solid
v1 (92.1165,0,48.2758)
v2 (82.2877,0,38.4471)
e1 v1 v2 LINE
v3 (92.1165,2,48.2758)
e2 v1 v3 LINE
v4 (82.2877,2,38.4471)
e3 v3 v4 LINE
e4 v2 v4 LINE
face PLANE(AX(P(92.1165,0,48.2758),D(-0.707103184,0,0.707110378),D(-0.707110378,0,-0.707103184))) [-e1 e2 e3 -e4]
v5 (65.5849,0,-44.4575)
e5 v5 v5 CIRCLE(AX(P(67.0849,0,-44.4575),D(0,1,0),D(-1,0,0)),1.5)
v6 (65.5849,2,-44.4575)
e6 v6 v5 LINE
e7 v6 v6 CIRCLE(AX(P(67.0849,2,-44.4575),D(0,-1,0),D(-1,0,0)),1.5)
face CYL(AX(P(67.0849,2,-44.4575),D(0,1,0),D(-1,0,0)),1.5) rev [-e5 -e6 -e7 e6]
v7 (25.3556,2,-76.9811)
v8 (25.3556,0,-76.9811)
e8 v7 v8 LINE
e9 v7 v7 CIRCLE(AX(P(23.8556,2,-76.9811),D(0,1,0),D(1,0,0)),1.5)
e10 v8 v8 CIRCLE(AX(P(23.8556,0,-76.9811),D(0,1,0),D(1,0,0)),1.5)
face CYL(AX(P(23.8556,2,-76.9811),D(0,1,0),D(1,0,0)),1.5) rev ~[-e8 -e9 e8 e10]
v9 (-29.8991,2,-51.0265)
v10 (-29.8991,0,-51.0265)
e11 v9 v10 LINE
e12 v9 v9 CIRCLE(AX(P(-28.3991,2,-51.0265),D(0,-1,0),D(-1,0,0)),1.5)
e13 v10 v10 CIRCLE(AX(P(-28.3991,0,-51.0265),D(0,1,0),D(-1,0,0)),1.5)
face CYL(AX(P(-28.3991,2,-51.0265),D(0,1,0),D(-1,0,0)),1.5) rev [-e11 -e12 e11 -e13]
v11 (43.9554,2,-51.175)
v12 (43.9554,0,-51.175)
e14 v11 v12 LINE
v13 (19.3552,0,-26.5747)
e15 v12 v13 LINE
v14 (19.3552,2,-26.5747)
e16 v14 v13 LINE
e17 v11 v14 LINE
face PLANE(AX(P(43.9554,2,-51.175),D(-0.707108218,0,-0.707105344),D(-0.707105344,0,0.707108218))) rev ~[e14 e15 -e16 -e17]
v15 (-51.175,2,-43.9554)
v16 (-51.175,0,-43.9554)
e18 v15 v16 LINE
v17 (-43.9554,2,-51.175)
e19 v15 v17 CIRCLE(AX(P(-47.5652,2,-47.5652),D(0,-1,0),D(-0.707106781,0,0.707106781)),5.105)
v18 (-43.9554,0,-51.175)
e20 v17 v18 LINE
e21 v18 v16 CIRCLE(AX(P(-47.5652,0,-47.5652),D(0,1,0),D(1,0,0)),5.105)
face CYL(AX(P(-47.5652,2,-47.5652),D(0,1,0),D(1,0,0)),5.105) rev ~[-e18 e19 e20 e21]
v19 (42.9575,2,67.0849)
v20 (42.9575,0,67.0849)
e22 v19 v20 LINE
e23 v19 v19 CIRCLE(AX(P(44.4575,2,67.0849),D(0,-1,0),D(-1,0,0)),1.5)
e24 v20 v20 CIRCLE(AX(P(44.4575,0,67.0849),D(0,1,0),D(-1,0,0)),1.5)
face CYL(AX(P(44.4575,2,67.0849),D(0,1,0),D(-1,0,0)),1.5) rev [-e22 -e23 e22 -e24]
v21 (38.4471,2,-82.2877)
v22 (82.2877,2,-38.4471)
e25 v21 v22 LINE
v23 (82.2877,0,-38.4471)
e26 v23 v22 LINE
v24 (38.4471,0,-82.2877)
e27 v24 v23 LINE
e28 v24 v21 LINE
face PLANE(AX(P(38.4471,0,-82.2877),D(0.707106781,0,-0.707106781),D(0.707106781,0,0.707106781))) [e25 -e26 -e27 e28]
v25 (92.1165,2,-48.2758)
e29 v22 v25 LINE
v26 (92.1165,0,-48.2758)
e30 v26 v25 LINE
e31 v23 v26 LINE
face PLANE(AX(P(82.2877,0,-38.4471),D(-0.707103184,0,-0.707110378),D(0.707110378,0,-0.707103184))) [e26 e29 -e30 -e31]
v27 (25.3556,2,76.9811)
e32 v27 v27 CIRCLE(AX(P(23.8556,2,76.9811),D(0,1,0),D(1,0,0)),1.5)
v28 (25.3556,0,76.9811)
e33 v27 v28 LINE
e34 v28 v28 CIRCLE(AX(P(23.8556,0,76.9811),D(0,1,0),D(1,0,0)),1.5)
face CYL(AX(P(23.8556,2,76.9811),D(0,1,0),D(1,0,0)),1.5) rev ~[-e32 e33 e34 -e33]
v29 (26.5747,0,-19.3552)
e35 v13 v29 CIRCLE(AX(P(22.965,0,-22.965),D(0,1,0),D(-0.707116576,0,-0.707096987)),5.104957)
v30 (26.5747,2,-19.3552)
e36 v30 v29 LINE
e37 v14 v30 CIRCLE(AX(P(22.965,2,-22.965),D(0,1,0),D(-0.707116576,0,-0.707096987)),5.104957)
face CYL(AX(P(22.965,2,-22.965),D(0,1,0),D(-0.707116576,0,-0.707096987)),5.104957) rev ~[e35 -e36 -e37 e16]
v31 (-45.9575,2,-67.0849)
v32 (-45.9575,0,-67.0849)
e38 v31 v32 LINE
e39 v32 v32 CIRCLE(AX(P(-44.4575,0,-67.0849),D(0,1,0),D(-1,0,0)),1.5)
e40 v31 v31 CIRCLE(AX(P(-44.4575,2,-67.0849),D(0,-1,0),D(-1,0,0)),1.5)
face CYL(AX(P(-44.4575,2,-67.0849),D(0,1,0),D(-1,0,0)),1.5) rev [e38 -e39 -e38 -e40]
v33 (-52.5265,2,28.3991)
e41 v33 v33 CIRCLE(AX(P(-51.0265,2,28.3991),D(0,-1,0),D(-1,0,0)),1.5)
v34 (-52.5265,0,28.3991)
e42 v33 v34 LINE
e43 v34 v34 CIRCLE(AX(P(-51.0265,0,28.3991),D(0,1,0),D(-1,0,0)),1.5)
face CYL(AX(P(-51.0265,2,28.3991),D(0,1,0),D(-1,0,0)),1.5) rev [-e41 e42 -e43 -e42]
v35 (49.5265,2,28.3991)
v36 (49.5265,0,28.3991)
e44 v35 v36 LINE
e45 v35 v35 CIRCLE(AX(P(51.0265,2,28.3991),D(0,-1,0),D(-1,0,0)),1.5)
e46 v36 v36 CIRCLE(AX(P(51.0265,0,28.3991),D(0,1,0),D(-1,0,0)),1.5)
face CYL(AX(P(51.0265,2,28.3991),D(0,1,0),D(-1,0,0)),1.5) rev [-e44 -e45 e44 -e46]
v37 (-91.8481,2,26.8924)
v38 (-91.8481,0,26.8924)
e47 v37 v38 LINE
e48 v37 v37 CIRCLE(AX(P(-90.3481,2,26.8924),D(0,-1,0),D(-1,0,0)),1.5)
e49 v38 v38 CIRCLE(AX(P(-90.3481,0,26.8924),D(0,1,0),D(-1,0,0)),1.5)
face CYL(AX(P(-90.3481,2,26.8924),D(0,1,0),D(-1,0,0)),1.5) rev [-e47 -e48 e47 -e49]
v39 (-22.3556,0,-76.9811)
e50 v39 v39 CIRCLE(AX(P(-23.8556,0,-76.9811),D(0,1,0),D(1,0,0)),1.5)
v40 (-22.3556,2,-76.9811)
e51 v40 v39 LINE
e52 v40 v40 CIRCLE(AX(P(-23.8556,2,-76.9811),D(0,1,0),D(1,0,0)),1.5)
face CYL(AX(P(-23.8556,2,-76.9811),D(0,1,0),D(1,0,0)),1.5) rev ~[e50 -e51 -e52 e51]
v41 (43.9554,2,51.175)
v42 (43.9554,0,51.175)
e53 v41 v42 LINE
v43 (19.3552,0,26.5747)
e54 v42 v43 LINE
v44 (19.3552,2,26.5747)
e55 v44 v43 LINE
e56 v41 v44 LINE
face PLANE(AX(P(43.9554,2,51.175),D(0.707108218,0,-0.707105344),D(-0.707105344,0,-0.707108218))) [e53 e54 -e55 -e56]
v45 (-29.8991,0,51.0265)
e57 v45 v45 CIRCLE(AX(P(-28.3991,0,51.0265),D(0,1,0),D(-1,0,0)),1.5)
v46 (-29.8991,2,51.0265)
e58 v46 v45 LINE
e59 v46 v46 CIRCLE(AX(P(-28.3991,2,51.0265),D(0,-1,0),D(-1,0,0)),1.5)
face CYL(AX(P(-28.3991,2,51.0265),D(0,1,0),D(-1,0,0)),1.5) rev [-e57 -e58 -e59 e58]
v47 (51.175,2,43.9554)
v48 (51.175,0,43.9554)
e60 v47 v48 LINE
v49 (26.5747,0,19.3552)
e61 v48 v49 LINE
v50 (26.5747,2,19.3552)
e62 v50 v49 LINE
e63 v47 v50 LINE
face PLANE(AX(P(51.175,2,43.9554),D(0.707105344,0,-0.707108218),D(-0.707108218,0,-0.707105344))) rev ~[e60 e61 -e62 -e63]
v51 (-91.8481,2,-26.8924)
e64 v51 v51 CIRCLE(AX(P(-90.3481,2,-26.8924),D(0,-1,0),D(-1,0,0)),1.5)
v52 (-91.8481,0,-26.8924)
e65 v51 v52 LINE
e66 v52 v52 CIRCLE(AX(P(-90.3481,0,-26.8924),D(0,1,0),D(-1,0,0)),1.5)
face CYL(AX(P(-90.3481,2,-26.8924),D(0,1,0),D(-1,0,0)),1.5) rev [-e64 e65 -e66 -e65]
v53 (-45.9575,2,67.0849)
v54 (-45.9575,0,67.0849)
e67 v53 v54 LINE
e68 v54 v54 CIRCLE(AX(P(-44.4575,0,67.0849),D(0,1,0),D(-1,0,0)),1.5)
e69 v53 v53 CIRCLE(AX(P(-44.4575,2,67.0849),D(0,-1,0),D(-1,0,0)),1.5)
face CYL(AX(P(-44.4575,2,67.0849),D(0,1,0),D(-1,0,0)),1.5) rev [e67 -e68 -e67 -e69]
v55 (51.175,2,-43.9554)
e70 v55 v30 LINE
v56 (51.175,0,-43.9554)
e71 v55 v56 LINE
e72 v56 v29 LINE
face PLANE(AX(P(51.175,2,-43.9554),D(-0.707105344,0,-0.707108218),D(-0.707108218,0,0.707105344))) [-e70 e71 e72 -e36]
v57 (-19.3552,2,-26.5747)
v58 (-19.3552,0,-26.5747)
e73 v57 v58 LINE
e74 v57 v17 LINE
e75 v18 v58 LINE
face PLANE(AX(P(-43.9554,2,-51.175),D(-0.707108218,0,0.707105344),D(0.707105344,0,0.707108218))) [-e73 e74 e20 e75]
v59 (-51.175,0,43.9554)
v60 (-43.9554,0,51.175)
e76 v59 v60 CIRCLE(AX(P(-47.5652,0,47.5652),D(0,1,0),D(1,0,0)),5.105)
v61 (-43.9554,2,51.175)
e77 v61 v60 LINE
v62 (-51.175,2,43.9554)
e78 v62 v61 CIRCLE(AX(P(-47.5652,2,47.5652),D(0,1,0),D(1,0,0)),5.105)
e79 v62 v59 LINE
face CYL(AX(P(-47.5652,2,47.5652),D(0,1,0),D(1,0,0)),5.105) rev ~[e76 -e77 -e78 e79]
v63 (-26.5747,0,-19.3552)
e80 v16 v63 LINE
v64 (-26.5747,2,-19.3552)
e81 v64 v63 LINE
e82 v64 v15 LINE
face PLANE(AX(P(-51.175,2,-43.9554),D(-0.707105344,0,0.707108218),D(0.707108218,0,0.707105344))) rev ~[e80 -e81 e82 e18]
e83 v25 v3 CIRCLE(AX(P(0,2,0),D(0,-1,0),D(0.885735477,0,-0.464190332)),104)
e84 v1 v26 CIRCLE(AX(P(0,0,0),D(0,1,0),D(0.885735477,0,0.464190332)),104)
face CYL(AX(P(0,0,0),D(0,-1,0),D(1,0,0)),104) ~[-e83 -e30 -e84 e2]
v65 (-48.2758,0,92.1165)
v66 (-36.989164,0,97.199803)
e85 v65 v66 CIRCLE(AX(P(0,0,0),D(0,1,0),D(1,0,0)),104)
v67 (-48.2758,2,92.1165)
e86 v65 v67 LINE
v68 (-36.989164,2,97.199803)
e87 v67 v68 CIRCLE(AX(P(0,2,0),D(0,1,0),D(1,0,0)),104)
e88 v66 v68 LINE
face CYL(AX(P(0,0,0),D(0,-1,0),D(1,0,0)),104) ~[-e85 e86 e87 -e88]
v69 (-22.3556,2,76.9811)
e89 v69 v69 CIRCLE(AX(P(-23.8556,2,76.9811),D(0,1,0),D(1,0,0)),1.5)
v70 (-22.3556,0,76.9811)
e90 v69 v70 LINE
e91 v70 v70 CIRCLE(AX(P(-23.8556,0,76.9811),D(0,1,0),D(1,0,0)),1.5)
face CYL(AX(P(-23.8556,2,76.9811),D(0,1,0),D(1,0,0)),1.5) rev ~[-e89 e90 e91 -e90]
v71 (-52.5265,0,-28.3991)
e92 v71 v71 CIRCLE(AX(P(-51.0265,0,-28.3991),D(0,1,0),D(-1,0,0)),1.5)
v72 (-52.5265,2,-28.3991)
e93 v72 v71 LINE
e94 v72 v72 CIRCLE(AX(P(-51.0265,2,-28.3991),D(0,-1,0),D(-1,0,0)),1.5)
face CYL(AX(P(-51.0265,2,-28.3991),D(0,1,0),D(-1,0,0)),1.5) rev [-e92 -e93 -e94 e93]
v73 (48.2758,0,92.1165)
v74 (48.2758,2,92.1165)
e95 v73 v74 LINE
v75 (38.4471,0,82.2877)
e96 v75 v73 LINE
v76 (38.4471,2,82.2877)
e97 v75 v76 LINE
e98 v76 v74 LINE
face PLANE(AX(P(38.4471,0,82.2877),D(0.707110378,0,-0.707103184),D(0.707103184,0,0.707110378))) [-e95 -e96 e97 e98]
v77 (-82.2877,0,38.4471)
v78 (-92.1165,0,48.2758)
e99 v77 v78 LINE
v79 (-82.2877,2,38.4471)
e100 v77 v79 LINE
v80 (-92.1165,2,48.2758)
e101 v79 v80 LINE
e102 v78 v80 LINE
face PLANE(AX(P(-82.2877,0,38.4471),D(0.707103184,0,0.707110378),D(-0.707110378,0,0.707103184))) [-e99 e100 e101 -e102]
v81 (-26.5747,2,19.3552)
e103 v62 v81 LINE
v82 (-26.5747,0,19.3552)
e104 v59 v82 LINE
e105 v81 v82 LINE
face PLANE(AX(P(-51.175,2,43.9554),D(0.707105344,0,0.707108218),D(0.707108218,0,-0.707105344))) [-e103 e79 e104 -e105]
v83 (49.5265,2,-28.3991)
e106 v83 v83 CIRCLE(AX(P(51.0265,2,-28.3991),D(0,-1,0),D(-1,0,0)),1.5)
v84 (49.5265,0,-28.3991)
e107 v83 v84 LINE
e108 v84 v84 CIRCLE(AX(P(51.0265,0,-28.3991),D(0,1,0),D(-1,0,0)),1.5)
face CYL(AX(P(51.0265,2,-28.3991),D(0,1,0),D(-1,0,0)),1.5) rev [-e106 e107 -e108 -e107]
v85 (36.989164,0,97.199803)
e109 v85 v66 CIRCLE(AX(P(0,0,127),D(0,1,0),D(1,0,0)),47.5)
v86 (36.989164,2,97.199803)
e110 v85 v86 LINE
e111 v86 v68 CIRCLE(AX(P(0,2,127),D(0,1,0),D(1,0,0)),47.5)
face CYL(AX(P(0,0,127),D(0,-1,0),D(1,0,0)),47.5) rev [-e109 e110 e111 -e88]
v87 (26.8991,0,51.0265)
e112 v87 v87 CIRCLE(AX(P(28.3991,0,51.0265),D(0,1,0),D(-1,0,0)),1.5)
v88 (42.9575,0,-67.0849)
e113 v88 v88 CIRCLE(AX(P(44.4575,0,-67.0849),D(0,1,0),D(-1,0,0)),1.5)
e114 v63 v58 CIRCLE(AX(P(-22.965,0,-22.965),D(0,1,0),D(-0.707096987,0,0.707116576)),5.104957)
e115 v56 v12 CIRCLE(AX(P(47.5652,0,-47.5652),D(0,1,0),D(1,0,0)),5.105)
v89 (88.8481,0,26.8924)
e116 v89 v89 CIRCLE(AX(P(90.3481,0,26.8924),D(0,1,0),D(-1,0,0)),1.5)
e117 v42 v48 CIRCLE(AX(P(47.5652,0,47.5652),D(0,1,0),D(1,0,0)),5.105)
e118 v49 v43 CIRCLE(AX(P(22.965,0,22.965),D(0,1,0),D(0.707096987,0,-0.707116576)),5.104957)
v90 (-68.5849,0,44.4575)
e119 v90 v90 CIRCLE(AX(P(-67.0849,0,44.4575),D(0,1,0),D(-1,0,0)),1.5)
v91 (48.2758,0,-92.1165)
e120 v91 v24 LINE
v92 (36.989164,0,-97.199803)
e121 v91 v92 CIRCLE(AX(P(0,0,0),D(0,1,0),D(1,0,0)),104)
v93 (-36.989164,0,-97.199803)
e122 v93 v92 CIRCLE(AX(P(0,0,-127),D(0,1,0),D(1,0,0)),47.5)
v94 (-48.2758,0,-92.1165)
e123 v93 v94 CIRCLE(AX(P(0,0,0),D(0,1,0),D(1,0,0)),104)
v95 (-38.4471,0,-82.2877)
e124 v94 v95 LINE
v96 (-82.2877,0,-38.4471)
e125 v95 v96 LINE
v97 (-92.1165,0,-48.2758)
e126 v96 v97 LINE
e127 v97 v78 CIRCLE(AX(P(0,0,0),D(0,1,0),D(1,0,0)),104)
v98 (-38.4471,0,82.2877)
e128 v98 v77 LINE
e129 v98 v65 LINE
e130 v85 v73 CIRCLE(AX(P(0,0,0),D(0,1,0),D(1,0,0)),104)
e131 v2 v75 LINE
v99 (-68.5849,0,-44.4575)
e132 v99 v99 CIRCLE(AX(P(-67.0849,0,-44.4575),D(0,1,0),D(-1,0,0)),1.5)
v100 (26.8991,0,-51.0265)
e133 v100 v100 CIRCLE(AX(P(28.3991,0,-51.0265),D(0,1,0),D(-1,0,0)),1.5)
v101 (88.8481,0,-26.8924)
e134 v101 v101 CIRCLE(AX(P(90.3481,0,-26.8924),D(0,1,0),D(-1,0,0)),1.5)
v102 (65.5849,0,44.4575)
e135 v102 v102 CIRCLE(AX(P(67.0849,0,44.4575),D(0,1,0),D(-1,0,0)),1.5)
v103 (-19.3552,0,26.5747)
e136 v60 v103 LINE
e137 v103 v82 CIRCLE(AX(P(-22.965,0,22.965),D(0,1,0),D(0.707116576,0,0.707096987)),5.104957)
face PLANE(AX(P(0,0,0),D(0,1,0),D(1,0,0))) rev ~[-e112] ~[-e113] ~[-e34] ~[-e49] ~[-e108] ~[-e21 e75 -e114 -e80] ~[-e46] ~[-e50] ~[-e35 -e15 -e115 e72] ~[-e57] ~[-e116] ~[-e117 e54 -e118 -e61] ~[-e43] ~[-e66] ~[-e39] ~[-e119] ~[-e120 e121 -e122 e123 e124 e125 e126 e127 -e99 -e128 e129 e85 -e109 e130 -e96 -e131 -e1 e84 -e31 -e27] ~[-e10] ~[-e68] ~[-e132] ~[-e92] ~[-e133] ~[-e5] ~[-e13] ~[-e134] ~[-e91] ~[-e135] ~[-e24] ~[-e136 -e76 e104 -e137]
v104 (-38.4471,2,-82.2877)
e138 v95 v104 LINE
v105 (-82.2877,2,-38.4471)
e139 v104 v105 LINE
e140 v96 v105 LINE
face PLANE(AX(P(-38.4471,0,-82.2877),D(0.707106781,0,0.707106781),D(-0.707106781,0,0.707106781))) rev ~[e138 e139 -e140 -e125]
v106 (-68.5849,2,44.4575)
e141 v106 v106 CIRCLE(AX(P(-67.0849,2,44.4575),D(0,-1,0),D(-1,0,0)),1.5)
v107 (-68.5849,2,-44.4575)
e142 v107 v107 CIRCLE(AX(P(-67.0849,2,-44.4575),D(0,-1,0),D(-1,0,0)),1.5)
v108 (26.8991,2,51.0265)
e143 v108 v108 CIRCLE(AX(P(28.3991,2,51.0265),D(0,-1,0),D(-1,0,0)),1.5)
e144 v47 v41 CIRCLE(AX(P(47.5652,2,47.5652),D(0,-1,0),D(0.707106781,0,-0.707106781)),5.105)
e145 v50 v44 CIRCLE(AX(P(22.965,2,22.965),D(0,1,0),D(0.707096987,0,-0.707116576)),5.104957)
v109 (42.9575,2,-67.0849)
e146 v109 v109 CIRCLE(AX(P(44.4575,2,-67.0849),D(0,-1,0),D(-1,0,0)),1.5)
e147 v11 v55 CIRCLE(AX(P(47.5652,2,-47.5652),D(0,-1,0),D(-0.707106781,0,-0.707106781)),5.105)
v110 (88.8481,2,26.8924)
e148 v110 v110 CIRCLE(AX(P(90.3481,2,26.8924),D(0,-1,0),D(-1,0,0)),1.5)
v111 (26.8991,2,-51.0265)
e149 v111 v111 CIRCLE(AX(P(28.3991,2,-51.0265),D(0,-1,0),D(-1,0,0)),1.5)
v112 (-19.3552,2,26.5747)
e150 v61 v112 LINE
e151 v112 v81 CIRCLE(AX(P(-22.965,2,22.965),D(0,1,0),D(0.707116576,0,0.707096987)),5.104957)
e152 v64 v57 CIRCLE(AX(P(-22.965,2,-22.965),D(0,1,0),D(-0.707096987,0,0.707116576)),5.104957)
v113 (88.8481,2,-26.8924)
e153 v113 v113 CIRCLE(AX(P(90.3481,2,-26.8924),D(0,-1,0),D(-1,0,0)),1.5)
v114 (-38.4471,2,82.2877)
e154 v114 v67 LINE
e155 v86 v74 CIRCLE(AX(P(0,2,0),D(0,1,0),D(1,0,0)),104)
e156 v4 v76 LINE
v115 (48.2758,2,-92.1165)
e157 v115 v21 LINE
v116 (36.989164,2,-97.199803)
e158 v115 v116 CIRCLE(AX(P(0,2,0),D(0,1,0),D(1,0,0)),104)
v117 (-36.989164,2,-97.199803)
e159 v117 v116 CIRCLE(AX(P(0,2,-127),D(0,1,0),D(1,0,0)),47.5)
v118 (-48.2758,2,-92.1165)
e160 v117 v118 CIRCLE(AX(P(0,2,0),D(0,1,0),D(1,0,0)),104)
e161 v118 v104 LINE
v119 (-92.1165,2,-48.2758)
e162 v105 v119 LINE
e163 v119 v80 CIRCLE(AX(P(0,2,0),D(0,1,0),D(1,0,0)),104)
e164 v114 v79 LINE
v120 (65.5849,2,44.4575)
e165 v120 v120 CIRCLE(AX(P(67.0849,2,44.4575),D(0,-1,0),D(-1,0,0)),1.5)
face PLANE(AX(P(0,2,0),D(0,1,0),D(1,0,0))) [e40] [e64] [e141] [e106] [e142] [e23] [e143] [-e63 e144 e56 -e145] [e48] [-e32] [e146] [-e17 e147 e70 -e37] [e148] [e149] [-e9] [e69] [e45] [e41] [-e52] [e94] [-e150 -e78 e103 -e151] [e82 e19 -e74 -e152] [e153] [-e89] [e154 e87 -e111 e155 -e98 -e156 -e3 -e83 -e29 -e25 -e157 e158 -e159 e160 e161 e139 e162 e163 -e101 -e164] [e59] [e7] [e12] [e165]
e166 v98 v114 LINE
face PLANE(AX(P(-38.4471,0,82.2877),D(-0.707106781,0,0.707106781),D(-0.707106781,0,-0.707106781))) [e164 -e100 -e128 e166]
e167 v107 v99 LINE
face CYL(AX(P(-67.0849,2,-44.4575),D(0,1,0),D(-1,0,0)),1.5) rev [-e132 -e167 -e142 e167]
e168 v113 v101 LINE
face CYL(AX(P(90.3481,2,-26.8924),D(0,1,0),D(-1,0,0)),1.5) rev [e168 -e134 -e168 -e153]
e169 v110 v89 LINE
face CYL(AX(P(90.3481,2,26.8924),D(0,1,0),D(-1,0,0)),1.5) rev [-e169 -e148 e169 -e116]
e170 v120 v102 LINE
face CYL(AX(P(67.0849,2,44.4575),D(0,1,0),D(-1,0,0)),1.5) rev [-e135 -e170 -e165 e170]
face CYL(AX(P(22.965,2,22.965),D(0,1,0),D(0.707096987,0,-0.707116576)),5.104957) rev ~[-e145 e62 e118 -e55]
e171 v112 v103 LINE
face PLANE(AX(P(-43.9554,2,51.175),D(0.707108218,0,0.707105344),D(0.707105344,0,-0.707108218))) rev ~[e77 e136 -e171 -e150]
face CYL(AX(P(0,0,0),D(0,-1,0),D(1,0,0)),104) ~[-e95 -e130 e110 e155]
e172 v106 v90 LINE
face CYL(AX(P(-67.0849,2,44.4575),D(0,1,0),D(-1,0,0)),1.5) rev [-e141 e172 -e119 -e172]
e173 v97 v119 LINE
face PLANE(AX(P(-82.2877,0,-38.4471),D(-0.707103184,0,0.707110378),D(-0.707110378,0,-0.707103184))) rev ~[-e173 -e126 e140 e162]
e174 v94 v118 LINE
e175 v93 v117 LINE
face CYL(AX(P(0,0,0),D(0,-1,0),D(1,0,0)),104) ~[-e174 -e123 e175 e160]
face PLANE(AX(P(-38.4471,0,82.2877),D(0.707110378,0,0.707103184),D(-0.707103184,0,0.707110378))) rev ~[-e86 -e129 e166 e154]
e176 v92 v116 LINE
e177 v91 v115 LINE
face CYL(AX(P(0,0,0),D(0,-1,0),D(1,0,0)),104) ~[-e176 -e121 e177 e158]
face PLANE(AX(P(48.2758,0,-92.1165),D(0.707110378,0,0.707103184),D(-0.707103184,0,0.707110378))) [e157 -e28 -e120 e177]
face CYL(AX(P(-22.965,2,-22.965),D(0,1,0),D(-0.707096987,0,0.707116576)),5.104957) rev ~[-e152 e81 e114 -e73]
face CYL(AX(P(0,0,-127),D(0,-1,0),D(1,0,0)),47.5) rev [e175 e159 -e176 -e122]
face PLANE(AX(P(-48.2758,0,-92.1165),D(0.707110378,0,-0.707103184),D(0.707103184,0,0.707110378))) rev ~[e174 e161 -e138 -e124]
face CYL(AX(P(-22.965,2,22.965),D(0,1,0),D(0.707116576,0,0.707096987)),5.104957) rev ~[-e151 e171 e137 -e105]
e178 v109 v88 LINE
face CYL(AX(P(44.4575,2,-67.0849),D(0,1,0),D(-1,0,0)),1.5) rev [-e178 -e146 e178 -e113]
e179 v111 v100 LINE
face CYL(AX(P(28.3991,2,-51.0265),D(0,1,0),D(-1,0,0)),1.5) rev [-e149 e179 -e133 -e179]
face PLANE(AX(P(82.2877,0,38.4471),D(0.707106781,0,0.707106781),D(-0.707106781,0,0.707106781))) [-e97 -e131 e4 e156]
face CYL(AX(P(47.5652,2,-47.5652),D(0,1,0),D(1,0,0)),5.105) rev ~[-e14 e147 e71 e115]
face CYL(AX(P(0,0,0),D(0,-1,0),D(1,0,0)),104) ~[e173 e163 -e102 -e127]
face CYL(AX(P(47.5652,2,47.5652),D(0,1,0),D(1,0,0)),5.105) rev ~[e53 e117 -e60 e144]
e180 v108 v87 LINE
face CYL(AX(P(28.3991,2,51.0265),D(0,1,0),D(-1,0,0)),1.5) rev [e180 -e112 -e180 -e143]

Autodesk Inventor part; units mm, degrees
ref_plane "YZ Plane" through (0, 0, 0) normal (1, 0, 0) x (0, 1, 0)
ref_plane "XZ Plane" through (0, 0, 0) normal (0, 1, 0) x (-1, 0, 0)
ref_plane "XY Plane" through (0, 0, 0) normal (0, 0, 1) x (1, 0, 0)
sketch "Эскиз2" plane through (0, 0, 0) normal (0, 1, 0) x (1, 0, 0)
  circle A0 centre (0, 0) radius 107.5
  circle A1 centre (0, 0) radius 104
  line L0 (0, 0) -> (104, 0) construction
  line L1 (0, 0) -> (0, -104) construction
  line L2 (0, 0) -> (-104, 0) construction
  line L3 (0, 0) -> (0, 104) construction
  line L4 (104, 0) -> (0, -104) construction
  line L5 (0, 104) -> (-104, 0) construction
  line L6 (0, -104) -> (-104, 0) construction
  line L7 (104, 0) -> (0, 104) construction
  line L8 (0, 0) -> (-73.5391, -73.5391) construction
  line L9 (0, 0) -> (73.5391, -73.5391) construction
  line L10 (0, 0) -> (73.5391, 73.5391) construction
  line L11 (0, 0) -> (-73.5391, 73.5391) construction
  line L12 (-38.4471, -82.2877) -> (-82.2877, -38.4471)
  line L13 (-38.4471, -82.2877) -> (-48.2758, -92.1165)
  line L14 (-82.2877, -38.4471) -> (-92.1165, -48.2758)
  line L15 (92.1165, -48.2758) -> (82.2877, -38.4471)
  line L16 (82.2877, -38.4471) -> (38.4471, -82.2877)
  line L17 (38.4471, -82.2877) -> (48.2758, -92.1165)
  line L18 (48.2758, 92.1165) -> (38.4471, 82.2877)
  line L19 (38.4471, 82.2877) -> (82.2877, 38.4471)
  line L20 (82.2877, 38.4471) -> (92.1165, 48.2758)
  line L21 (-48.2758, 92.1165) -> (-38.4471, 82.2877)
  line L22 (-38.4471, 82.2877) -> (-82.2877, 38.4471)
  line L23 (-82.2877, 38.4471) -> (-92.1165, 48.2758)
  line L24 (0, -107.5) -> (0, -79.5) construction
  circle A2 centre (0, -116.5) radius 37 construction
  circle A3 centre (0, -127) radius 47.5
  line L25 (0, 107.5) -> (0, 79.5) construction
  circle A4 centre (0, 127) radius 47.5
  line L26 (-92.1165, 48.2758) -> (-94.7051, 50.8645)
  line L27 (-48.2758, 92.1165) -> (-50.8645, 94.7051)
  line L28 (48.2758, 92.1165) -> (50.8645, 94.7051)
  line L29 (92.1165, 48.2758) -> (94.7051, 50.8645)
  line L30 (92.1165, -48.2758) -> (94.7051, -50.8645)
  line L31 (48.2758, -92.1165) -> (50.8645, -94.7051)
  line L32 (-92.1165, -48.2758) -> (-94.7051, -50.8645)
  line L33 (-48.2758, -92.1165) -> (-50.8645, -94.7051)
  point P0 (-52, -52)
  point P1 (-52, 52)
  point P2 (52, 52)
  point P3 (52, -52)
  point P4 (-60.3674, -60.3674)
  point P5 (60.3674, -60.3674)
  point P6 (60.3674, 60.3674)
  point P7 (-60.3674, 60.3674)
  point P8 (-36.9892, -97.1998)
  point P9 (36.9892, -97.1998)
  point P10 (36.9892, 97.1998)
  point P11 (-36.9892, 97.1998)
  dimension "d137" = 215
  dimension "d138" = 208
  dimension "d143" = 74
  dimension "d144" = 95
  dimension "d140" = 62
  dimension "d141" = 13.9
  dimension "d142" = 28
extrude "Выдавливание1" add sketch "Эскиз2" along normal blind 2 contours A1 L15 L16 L17 A3 L13 L12 L14 L23 L22 L21 A4 L18 L19 L20
sketch "Эскиз3" plane through (0, 2, 0) normal (0, -1, 0) x (-1, 0, 0)
  line L0 (33.8509, 77.6915) -> (77.6915, 33.8509) construction
  line L1 (55.7712, 55.7712) -> (0, 0) construction
  line L2 (44.4575, 67.0849) -> (67.0849, 44.4575) construction
  circle A0 centre (44.4575, 67.0849) radius 1.5
  circle A1 centre (67.0849, 44.4575) radius 1.5
  line L3 (28.3991, 51.0265) -> (51.0265, 28.3991) construction
  circle A2 centre (28.3991, 51.0265) radius 1.5
  circle A3 centre (51.0265, 28.3991) radius 1.5
  line L4 (44.4575, -67.0849) -> (67.0849, -44.4575) construction
  line L5 (28.3991, -51.0265) -> (51.0265, -28.3991) construction
  line L6 (55.7712, -55.7712) -> (0, 0) construction
  line L7 (-44.4575, -67.0849) -> (-67.0849, -44.4575) construction
  line L8 (-28.3991, -51.0265) -> (-51.0265, -28.3991) construction
  line L9 (-55.7712, -55.7712) -> (0, 0) construction
  line L10 (-67.0849, 44.4575) -> (-44.4575, 67.0849) construction
  line L11 (-51.0265, 28.3991) -> (-28.3991, 51.0265) construction
  line L12 (-55.7712, 55.7712) -> (0, 0) construction
  circle A4 centre (-44.4575, 67.0849) radius 1.5
  circle A5 centre (-67.0849, 44.4575) radius 1.5
  circle A6 centre (-28.3991, 51.0265) radius 1.5
  circle A7 centre (-51.0265, 28.3991) radius 1.5
  circle A8 centre (-44.4575, -67.0849) radius 1.5
  circle A9 centre (-67.0849, -44.4575) radius 1.5
  circle A10 centre (-51.0265, -28.3991) radius 1.5
  circle A11 centre (-28.3991, -51.0265) radius 1.5
  circle A12 centre (44.4575, -67.0849) radius 1.5
  circle A13 centre (28.3991, -51.0265) radius 1.5
  circle A14 centre (51.0265, -28.3991) radius 1.5
  circle A15 centre (67.0849, -44.4575) radius 1.5
  line L13 (-38.4471, -82.2877) -> (-82.2877, -38.4471) projected
  line L14 (82.2877, -38.4471) -> (38.4471, -82.2877) projected
  line L15 (38.4471, 82.2877) -> (82.2877, 38.4471) projected
  line L16 (-82.2877, 38.4471) -> (-38.4471, 82.2877) projected
  line L17 (82.2877, 38.4471) -> (92.1165, 48.2758) projected
  point P0 (39.7128, 39.7128)
  point P1 (-39.7128, -39.7128)
  point P2 (39.7128, -39.7128)
  point P3 (-39.7128, 39.7128)
  point P4 (-40.1306, -40.1306)
  dimension "d83" = 16
  dimension "d84" = 3
  dimension "d85" = 3
  dimension "d86" = 22.71
  dimension "d87" = 3
  dimension "d88" = 3
  dimension "d89" = 22.71
  dimension "d90" = 22.71
  dimension "d91" = 22.71
  dimension "d95" = 3
  dimension "d96" = 3
  dimension "d97" = 3
  dimension "d98" = 3
  dimension "d99" = 3
  dimension "d100" = 3
  dimension "d101" = 3
  dimension "d102" = 3
  dimension "d103" = 3
  dimension "d104" = 3
  dimension "d105" = 3
  dimension "d106" = 3
  dimension "d145" = 6.5
  dimension "d146" = 6.5
  dimension "d147" = 6.5
  dimension "d148" = 6.5
extrude "Выдавливание5" cut sketch "Эскиз3" along normal through all
sketch "Эскиз6" plane through (0, 2, 0) normal (0, -1, 0) x (-1, 0, 0)
  arc A0 (36.9892, -97.1998) -> (-36.9892, -97.1998) centre (0, -127) ccw projected
  arc A1 (-36.9892, 97.1998) -> (36.9892, 97.1998) centre (0, 127) ccw projected
  point P0 (-0.0301, 154.5629)
  point P1 (-0.0412, -154.5628)
sketch "Эскиз7" plane through (0, 2, 0) normal (0, -1, 0) x (-1, 0, 0)
  circle A0 centre (0, 0) radius 94.2655 construction
  circle A1 centre (-90.3481, 26.8924) radius 1.5
  circle A2 centre (-90.3481, -26.8924) radius 1.5
  circle A3 centre (90.3481, 26.8924) radius 1.5
  circle A4 centre (90.3481, -26.8924) radius 1.5
  line L0 (-92.1165, 48.2758) -> (-82.2877, 38.4471) projected
  line L1 (-82.2877, -38.4471) -> (-92.1165, -48.2758) projected
  line L2 (92.1165, -48.2758) -> (82.2877, -38.4471) projected
  line L3 (82.2877, 38.4471) -> (92.1165, 48.2758) projected
  dimension "d119" = 188.531
  dimension "d120" = 3
  dimension "d121" = 3
  dimension "d124" = 3
  dimension "d125" = 3
  dimension "d149" = 13.87
  dimension "d150" = 13.87
  dimension "d151" = 13.87
  dimension "d152" = 13.87
extrude "Выдавливание4" cut sketch "Эскиз7" along normal through all
sketch "Эскиз8" plane through (0, 2, 0) normal (0, 1, 0) x (1, 0, 0)
  arc A0 (-48.2758, -92.1165) -> (-36.9892, -97.1998) centre (0, 0) ccw projected
  arc A1 (36.9892, -97.1998) -> (48.2758, -92.1165) centre (0, 0) ccw projected
  arc A2 (36.9892, -97.1998) -> (-36.9892, -97.1998) centre (0, -127) ccw projected
  circle A3 centre (0, -127) radius 55.4164 construction
  circle A4 centre (-23.8556, -76.9811) radius 1.5
  circle A5 centre (23.8556, -76.9811) radius 1.5
  circle A6 centre (-28.3991, -51.0265) radius 1.5 construction
  circle A7 centre (-51.0265, -28.3991) radius 1.5 construction
  circle A8 centre (-67.0849, -44.4575) radius 1.5 construction
  circle A9 centre (-44.4575, -67.0849) radius 1.5 construction
  circle A10 centre (-51.0265, -28.3991) radius 1.5 construction
  line L0 (-51.0265, -28.3991) -> (-28.3991, -51.0265) construction
  line L1 (-67.0849, -44.4575) -> (-44.4575, -67.0849) construction
  line L2 (-55.7712, -55.7712) -> (-39.7128, -39.7128) construction
  line L3 (-50.4184, -50.4184) -> (-23.8556, -76.9811) construction
  circle A11 centre (67.0849, -44.4575) radius 1.5 construction
  circle A12 centre (44.4575, -67.0849) radius 1.5 construction
  line L4 (44.4575, -67.0849) -> (67.0849, -44.4575) construction
  arc A13 (-92.1165, 48.2758) -> (-92.1165, -48.2758) centre (0, 0) ccw construction
  line L5 (-104, 0) -> (104, 0) construction
  arc A14 (92.1165, -48.2758) -> (92.1165, 48.2758) centre (0, 0) ccw construction
  circle A15 centre (-23.8556, 76.9811) radius 1.5
  circle A16 centre (23.8556, 76.9811) radius 1.5
  point P0 (-44.5136, -93.9922)
  point P1 (-104, 0)
  dimension "d153" = 11.2867
  dimension "d154" = 3.7622
  dimension "d156" = 22.71
  dimension "d157" = 7.57
  dimension "d158" = 7.57
extrude "Выдавливание6" cut sketch "Эскиз8" against normal through all
sketch "Эскиз9" plane through (0, 2, 0) normal (0, 1, 0) x (1, 0, 0)
  circle A0 centre (-23.8556, 76.9811) radius 1.5 projected
  circle A1 centre (23.8556, -76.9811) radius 1.5 projected
  circle A2 centre (23.8556, 76.9811) radius 1.5 projected
  circle A3 centre (-23.8556, -76.9811) radius 1.5 projected
  circle A4 centre (-90.3481, 26.8924) radius 1.5 projected
  circle A5 centre (90.3481, -26.8924) radius 1.5 projected
  circle A6 centre (-90.3481, -26.8924) radius 1.5 projected
  circle A7 centre (90.3481, 26.8924) radius 1.5 projected
  circle A8 centre (51.0265, -28.3991) radius 1.5 projected
  circle A9 centre (-67.0849, -44.4575) radius 1.5 projected
  circle A10 centre (-44.4575, 67.0849) radius 1.5 projected
  circle A11 centre (51.0265, 28.3991) radius 1.5 projected
  circle A12 centre (28.3991, 51.0265) radius 1.5 projected
  circle A13 centre (-67.0849, 44.4575) radius 1.5 projected
  circle A14 centre (-28.3991, -51.0265) radius 1.5 projected
  circle A15 centre (28.3991, -51.0265) radius 1.5 projected
  circle A16 centre (67.0849, -44.4575) radius 1.5 projected
  circle A17 centre (-51.0265, -28.3991) radius 1.5 projected
  circle A18 centre (-28.3991, 51.0265) radius 1.5 projected
  circle A19 centre (67.0849, 44.4575) radius 1.5 projected
  circle A20 centre (44.4575, 67.0849) radius 1.5 projected
  circle A21 centre (-51.0265, 28.3991) radius 1.5 projected
  circle A22 centre (-44.4575, -67.0849) radius 1.5 projected
  circle A23 centre (44.4575, -67.0849) radius 1.5 projected
  line L0 (-82.2877, 38.4471) -> (-92.1165, 48.2758) projected
  arc A24 (-92.1165, 48.2758) -> (-92.1165, -48.2758) centre (0, 0) ccw projected
  line L1 (-92.1165, -48.2758) -> (-82.2877, -38.4471) projected
  line L2 (-82.2877, -38.4471) -> (-38.4471, -82.2877) projected
  line L3 (-38.4471, -82.2877) -> (-48.2758, -92.1165) projected
  arc A25 (-48.2758, -92.1165) -> (-36.9892, -97.1998) centre (0, 0) ccw projected
  arc A26 (36.9892, -97.1998) -> (-36.9892, -97.1998) centre (0, -127) ccw projected
  arc A27 (36.9892, -97.1998) -> (48.2758, -92.1165) centre (0, 0) ccw projected
  line L4 (48.2758, -92.1165) -> (38.4471, -82.2877) projected
  line L5 (38.4471, -82.2877) -> (82.2877, -38.4471) projected
  line L6 (82.2877, -38.4471) -> (92.1165, -48.2758) projected
  arc A28 (92.1165, -48.2758) -> (92.1165, 48.2758) centre (0, 0) ccw projected
  line L7 (92.1165, 48.2758) -> (82.2877, 38.4471) projected
  line L8 (82.2877, 38.4471) -> (38.4471, 82.2877) projected
  line L9 (38.4471, 82.2877) -> (48.2758, 92.1165) projected
  arc A29 (48.2758, 92.1165) -> (36.9892, 97.1998) centre (0, 0) ccw projected
  arc A30 (-36.9892, 97.1998) -> (36.9892, 97.1998) centre (0, 127) ccw projected
  arc A31 (-36.9892, 97.1998) -> (-48.2758, 92.1165) centre (0, 0) ccw projected
  line L10 (-48.2758, 92.1165) -> (-38.4471, 82.2877) projected
  line L11 (-38.4471, 82.2877) -> (-82.2877, 38.4471) projected
  circle A32 centre (-51.0265, 28.3991) radius 1.5 projected
  circle A33 centre (-51.0265, 28.3991) radius 6
  circle A34 centre (-28.3991, 51.0265) radius 1.5 projected
  circle A35 centre (-28.3991, 51.0265) radius 6
  line L12 (-55.2691, 32.6417) -> (-46.7838, 24.1564) construction
  line L13 (-32.6417, 55.2691) -> (-24.1564, 46.7838) construction
  line L14 (-38.4471, 82.2877) -> (-82.2877, 38.4471) projected
  line L15 (-24.1564, 46.7838) -> (-46.7838, 24.1564)
  line L16 (-68.8527, 33.4973) -> (-33.4973, 68.8527)
  line L17 (-55.2691, 32.6417) -> (-32.6417, 55.2691)
  line L18 (-82.2877, 38.4471) -> (-77.3379, 33.4973)
  line L19 (-38.4471, 82.2877) -> (-33.4973, 77.3379)
  line L20 (-51.175, 51.175) -> (-43.9554, 43.9554) construction
  arc A36 (-33.4973, 68.8527) -> (-33.4973, 77.3379) centre (-37.74, 73.0953) ccw
  line L21 (-33.4973, 68.8527) -> (-37.74, 73.0953) construction
  line L22 (-37.74, 73.0953) -> (-33.4973, 77.3379) construction
  arc A37 (-77.3379, 33.4973) -> (-68.8527, 33.4973) centre (-73.0953, 37.74) ccw
  line L23 (-46.7838, -24.1564) -> (-24.1564, -46.7838)
  circle A38 centre (-28.3991, -51.0265) radius 6
  circle A39 centre (-51.0265, -28.3991) radius 6
  line L24 (-32.6417, -55.2691) -> (-55.2691, -32.6417)
  line L25 (-33.4973, -68.8527) -> (-68.8527, -33.4973)
  arc A40 (-68.8527, -33.4973) -> (-77.3379, -33.4973) centre (-73.0953, -37.74) ccw
  line L26 (-82.2877, -38.4471) -> (-77.3379, -33.4973)
  line L27 (-38.4471, -82.2877) -> (-33.4973, -77.3379)
  arc A41 (-33.4973, -77.3379) -> (-33.4973, -68.8527) centre (-37.74, -73.0953) ccw
  line L28 (24.1564, -46.7838) -> (46.7838, -24.1564)
  circle A42 centre (51.0265, -28.3991) radius 6
  circle A43 centre (28.3991, -51.0265) radius 6
  line L29 (55.2691, -32.6417) -> (32.6417, -55.2691)
  line L30 (68.8527, -33.4973) -> (33.4973, -68.8527)
  arc A44 (33.4973, -68.8527) -> (33.4973, -77.3379) centre (37.74, -73.0953) ccw
  line L31 (38.4471, -82.2877) -> (33.4973, -77.3379)
  line L32 (82.2877, -38.4471) -> (77.3379, -33.4973)
  arc A45 (77.3379, -33.4973) -> (68.8527, -33.4973) centre (73.0953, -37.74) ccw
  line L33 (46.7838, 24.1564) -> (24.1564, 46.7838)
  circle A46 centre (28.3991, 51.0265) radius 6
  circle A47 centre (51.0265, 28.3991) radius 6
  line L34 (32.6417, 55.2691) -> (55.2691, 32.6417)
  line L35 (33.4973, 68.8527) -> (68.8527, 33.4973)
  arc A48 (68.8527, 33.4973) -> (77.3379, 33.4973) centre (73.0953, 37.74) ccw
  line L36 (82.2877, 38.4471) -> (77.3379, 33.4973)
  line L37 (38.4471, 82.2877) -> (33.4973, 77.3379)
  arc A49 (33.4973, 77.3379) -> (33.4973, 68.8527) centre (37.74, 73.0953) ccw
  point P0 (-43.9554, -43.9554)
  point P1 (-51.175, -51.175)
  point P2 (43.9554, -43.9554)
  point P3 (51.175, -51.175)
  point P4 (43.9554, 43.9554)
  point P5 (51.175, 51.175)
  dimension "d161" = 12
  dimension "d162" = 10.21
  dimension "d163" = 7
  dimension "d164" = 6
  dimension "d167" = 360
sketch "Эскиз10" plane through (0, 2, 0) normal (0, 1, 0) x (1, 0, 0)
  circle A0 centre (-23.8556, 76.9811) radius 1.5 projected
  circle A1 centre (23.8556, -76.9811) radius 1.5 projected
  circle A2 centre (23.8556, 76.9811) radius 1.5 projected
  circle A3 centre (-23.8556, -76.9811) radius 1.5 projected
  circle A4 centre (-90.3481, 26.8924) radius 1.5 projected
  circle A5 centre (90.3481, -26.8924) radius 1.5 projected
  circle A6 centre (-90.3481, -26.8924) radius 1.5 projected
  circle A7 centre (90.3481, 26.8924) radius 1.5 projected
  circle A8 centre (51.0265, -28.3991) radius 1.5 projected
  circle A9 centre (-67.0849, -44.4575) radius 1.5 projected
  circle A10 centre (-44.4575, 67.0849) radius 1.5 projected
  circle A11 centre (51.0265, 28.3991) radius 1.5 projected
  circle A12 centre (28.3991, 51.0265) radius 1.5 projected
  circle A13 centre (-67.0849, 44.4575) radius 1.5 projected
  circle A14 centre (-28.3991, -51.0265) radius 1.5 projected
  circle A15 centre (28.3991, -51.0265) radius 1.5 projected
  circle A16 centre (67.0849, -44.4575) radius 1.5 projected
  circle A17 centre (-51.0265, -28.3991) radius 1.5 projected
  circle A18 centre (-28.3991, 51.0265) radius 1.5 projected
  circle A19 centre (67.0849, 44.4575) radius 1.5 projected
  circle A20 centre (44.4575, 67.0849) radius 1.5 projected
  circle A21 centre (-51.0265, 28.3991) radius 1.5 projected
  circle A22 centre (-44.4575, -67.0849) radius 1.5 projected
  circle A23 centre (44.4575, -67.0849) radius 1.5 projected
  line L0 (-82.2877, 38.4471) -> (-92.1165, 48.2758) projected
  arc A24 (-92.1165, 48.2758) -> (-92.1165, -48.2758) centre (0, 0) ccw projected
  line L1 (-92.1165, -48.2758) -> (-82.2877, -38.4471) projected
  line L2 (-82.2877, -38.4471) -> (-38.4471, -82.2877) projected
  line L3 (-38.4471, -82.2877) -> (-48.2758, -92.1165) projected
  arc A25 (-48.2758, -92.1165) -> (-36.9892, -97.1998) centre (0, 0) ccw projected
  arc A26 (36.9892, -97.1998) -> (-36.9892, -97.1998) centre (0, -127) ccw projected
  arc A27 (36.9892, -97.1998) -> (48.2758, -92.1165) centre (0, 0) ccw projected
  line L4 (48.2758, -92.1165) -> (38.4471, -82.2877) projected
  line L5 (38.4471, -82.2877) -> (82.2877, -38.4471) projected
  line L6 (82.2877, -38.4471) -> (92.1165, -48.2758) projected
  arc A28 (92.1165, -48.2758) -> (92.1165, 48.2758) centre (0, 0) ccw projected
  line L7 (92.1165, 48.2758) -> (82.2877, 38.4471) projected
  line L8 (82.2877, 38.4471) -> (38.4471, 82.2877) projected
  line L9 (38.4471, 82.2877) -> (48.2758, 92.1165) projected
  arc A29 (48.2758, 92.1165) -> (36.9892, 97.1998) centre (0, 0) ccw projected
  arc A30 (-36.9892, 97.1998) -> (36.9892, 97.1998) centre (0, 127) ccw projected
  arc A31 (-36.9892, 97.1998) -> (-48.2758, 92.1165) centre (0, 0) ccw projected
  line L10 (-48.2758, 92.1165) -> (-38.4471, 82.2877) projected
  line L11 (-38.4471, 82.2877) -> (-82.2877, 38.4471) projected
  line L12 (-68.8527, 33.4973) -> (-33.4973, 68.8527) projected
  line L13 (-51.175, 51.175) -> (-43.9554, 43.9554) construction
  line L14 (-55.2691, 32.6417) -> (-32.6417, 55.2691) projected
  circle A32 centre (-47.5652, 47.5652) radius 5.105
  line L15 (-51.175, 43.9554) -> (-43.9554, 51.175) construction
  line L16 (-51.175, 43.9554) -> (-26.5747, 19.3552)
  line L17 (-43.9554, 51.175) -> (-19.3552, 26.5747)
  line L18 (-26.5747, 19.3552) -> (-19.3552, 26.5747) construction
  arc A33 (-26.5747, 19.3552) -> (-19.3552, 26.5747) centre (-22.965, 22.965) ccw
  circle A34 centre (-47.5652, -47.5652) radius 5.105
  line L19 (-51.175, -43.9554) -> (-26.5747, -19.3552)
  line L20 (-43.9554, -51.175) -> (-19.3552, -26.5747)
  arc A35 (-19.3552, -26.5747) -> (-26.5747, -19.3552) centre (-22.965, -22.965) ccw
  circle A36 centre (47.5652, -47.5652) radius 5.105
  line L21 (43.9554, -51.175) -> (19.3552, -26.5747)
  line L22 (51.175, -43.9554) -> (26.5747, -19.3552)
  arc A37 (26.5747, -19.3552) -> (19.3552, -26.5747) centre (22.965, -22.965) ccw
  circle A38 centre (47.5652, 47.5652) radius 5.105
  line L23 (51.175, 43.9554) -> (26.5747, 19.3552)
  line L24 (43.9554, 51.175) -> (19.3552, 26.5747)
  arc A39 (19.3552, 26.5747) -> (26.5747, 19.3552) centre (22.965, 22.965) ccw
  point P0 (-19.3552, 19.3552)
  point P1 (-51.175, -51.175)
  point P2 (-19.3552, -19.3552)
  point P3 (51.175, -51.175)
  point P4 (19.3552, -19.3552)
  point P5 (51.175, 51.175)
  point P6 (19.3552, 19.3552)
  dimension "d169" = 45
  dimension "d172" = 360
extrude "Выдавливание7" cut sketch "Эскиз10" against normal through all contours L16 A32 L14 | L14 L17 A33 L16 | A32 L17 L14 | A32 | A34 | A34 L19 A35 L20 | A36 | A36 L21 A37 L22 | A38 | A38 L23 A39 L24
sketch "Эскиз12" plane through (0, 2, 0) normal (0, 1, 0) x (1, 0, 0)
  circle A0 centre (0, 0) radius 64.397
  circle A1 centre (-51.0265, 28.3991) radius 6 projected
  arc A2 (-77.3379, 33.4973) -> (-68.8527, 33.4973) centre (-73.0953, 37.74) ccw projected
  circle A3 centre (0, 0) radius 84.2806
  circle A4 centre (-90.3481, 26.8924) radius 1.5 projected
  line L0 (-90.3481, 26.8924) -> (0, 0)
  circle A5 centre (-90.3481, -26.8924) radius 1.5 projected
  line L1 (0, 0) -> (-90.3481, -26.8924)
  point P0 (-80.7782, -24.0439)
  point P1 (-61.7209, -18.3714)
  point P2 (-61.7209, 18.3714)
  point P3 (-80.7782, 24.0439)
equation "\"d85\" = d84"
equation "\"d87\" = d84"
equation "\"d88\" = d84"
properties part number "floor_v2" material "Алюминий 6061"
